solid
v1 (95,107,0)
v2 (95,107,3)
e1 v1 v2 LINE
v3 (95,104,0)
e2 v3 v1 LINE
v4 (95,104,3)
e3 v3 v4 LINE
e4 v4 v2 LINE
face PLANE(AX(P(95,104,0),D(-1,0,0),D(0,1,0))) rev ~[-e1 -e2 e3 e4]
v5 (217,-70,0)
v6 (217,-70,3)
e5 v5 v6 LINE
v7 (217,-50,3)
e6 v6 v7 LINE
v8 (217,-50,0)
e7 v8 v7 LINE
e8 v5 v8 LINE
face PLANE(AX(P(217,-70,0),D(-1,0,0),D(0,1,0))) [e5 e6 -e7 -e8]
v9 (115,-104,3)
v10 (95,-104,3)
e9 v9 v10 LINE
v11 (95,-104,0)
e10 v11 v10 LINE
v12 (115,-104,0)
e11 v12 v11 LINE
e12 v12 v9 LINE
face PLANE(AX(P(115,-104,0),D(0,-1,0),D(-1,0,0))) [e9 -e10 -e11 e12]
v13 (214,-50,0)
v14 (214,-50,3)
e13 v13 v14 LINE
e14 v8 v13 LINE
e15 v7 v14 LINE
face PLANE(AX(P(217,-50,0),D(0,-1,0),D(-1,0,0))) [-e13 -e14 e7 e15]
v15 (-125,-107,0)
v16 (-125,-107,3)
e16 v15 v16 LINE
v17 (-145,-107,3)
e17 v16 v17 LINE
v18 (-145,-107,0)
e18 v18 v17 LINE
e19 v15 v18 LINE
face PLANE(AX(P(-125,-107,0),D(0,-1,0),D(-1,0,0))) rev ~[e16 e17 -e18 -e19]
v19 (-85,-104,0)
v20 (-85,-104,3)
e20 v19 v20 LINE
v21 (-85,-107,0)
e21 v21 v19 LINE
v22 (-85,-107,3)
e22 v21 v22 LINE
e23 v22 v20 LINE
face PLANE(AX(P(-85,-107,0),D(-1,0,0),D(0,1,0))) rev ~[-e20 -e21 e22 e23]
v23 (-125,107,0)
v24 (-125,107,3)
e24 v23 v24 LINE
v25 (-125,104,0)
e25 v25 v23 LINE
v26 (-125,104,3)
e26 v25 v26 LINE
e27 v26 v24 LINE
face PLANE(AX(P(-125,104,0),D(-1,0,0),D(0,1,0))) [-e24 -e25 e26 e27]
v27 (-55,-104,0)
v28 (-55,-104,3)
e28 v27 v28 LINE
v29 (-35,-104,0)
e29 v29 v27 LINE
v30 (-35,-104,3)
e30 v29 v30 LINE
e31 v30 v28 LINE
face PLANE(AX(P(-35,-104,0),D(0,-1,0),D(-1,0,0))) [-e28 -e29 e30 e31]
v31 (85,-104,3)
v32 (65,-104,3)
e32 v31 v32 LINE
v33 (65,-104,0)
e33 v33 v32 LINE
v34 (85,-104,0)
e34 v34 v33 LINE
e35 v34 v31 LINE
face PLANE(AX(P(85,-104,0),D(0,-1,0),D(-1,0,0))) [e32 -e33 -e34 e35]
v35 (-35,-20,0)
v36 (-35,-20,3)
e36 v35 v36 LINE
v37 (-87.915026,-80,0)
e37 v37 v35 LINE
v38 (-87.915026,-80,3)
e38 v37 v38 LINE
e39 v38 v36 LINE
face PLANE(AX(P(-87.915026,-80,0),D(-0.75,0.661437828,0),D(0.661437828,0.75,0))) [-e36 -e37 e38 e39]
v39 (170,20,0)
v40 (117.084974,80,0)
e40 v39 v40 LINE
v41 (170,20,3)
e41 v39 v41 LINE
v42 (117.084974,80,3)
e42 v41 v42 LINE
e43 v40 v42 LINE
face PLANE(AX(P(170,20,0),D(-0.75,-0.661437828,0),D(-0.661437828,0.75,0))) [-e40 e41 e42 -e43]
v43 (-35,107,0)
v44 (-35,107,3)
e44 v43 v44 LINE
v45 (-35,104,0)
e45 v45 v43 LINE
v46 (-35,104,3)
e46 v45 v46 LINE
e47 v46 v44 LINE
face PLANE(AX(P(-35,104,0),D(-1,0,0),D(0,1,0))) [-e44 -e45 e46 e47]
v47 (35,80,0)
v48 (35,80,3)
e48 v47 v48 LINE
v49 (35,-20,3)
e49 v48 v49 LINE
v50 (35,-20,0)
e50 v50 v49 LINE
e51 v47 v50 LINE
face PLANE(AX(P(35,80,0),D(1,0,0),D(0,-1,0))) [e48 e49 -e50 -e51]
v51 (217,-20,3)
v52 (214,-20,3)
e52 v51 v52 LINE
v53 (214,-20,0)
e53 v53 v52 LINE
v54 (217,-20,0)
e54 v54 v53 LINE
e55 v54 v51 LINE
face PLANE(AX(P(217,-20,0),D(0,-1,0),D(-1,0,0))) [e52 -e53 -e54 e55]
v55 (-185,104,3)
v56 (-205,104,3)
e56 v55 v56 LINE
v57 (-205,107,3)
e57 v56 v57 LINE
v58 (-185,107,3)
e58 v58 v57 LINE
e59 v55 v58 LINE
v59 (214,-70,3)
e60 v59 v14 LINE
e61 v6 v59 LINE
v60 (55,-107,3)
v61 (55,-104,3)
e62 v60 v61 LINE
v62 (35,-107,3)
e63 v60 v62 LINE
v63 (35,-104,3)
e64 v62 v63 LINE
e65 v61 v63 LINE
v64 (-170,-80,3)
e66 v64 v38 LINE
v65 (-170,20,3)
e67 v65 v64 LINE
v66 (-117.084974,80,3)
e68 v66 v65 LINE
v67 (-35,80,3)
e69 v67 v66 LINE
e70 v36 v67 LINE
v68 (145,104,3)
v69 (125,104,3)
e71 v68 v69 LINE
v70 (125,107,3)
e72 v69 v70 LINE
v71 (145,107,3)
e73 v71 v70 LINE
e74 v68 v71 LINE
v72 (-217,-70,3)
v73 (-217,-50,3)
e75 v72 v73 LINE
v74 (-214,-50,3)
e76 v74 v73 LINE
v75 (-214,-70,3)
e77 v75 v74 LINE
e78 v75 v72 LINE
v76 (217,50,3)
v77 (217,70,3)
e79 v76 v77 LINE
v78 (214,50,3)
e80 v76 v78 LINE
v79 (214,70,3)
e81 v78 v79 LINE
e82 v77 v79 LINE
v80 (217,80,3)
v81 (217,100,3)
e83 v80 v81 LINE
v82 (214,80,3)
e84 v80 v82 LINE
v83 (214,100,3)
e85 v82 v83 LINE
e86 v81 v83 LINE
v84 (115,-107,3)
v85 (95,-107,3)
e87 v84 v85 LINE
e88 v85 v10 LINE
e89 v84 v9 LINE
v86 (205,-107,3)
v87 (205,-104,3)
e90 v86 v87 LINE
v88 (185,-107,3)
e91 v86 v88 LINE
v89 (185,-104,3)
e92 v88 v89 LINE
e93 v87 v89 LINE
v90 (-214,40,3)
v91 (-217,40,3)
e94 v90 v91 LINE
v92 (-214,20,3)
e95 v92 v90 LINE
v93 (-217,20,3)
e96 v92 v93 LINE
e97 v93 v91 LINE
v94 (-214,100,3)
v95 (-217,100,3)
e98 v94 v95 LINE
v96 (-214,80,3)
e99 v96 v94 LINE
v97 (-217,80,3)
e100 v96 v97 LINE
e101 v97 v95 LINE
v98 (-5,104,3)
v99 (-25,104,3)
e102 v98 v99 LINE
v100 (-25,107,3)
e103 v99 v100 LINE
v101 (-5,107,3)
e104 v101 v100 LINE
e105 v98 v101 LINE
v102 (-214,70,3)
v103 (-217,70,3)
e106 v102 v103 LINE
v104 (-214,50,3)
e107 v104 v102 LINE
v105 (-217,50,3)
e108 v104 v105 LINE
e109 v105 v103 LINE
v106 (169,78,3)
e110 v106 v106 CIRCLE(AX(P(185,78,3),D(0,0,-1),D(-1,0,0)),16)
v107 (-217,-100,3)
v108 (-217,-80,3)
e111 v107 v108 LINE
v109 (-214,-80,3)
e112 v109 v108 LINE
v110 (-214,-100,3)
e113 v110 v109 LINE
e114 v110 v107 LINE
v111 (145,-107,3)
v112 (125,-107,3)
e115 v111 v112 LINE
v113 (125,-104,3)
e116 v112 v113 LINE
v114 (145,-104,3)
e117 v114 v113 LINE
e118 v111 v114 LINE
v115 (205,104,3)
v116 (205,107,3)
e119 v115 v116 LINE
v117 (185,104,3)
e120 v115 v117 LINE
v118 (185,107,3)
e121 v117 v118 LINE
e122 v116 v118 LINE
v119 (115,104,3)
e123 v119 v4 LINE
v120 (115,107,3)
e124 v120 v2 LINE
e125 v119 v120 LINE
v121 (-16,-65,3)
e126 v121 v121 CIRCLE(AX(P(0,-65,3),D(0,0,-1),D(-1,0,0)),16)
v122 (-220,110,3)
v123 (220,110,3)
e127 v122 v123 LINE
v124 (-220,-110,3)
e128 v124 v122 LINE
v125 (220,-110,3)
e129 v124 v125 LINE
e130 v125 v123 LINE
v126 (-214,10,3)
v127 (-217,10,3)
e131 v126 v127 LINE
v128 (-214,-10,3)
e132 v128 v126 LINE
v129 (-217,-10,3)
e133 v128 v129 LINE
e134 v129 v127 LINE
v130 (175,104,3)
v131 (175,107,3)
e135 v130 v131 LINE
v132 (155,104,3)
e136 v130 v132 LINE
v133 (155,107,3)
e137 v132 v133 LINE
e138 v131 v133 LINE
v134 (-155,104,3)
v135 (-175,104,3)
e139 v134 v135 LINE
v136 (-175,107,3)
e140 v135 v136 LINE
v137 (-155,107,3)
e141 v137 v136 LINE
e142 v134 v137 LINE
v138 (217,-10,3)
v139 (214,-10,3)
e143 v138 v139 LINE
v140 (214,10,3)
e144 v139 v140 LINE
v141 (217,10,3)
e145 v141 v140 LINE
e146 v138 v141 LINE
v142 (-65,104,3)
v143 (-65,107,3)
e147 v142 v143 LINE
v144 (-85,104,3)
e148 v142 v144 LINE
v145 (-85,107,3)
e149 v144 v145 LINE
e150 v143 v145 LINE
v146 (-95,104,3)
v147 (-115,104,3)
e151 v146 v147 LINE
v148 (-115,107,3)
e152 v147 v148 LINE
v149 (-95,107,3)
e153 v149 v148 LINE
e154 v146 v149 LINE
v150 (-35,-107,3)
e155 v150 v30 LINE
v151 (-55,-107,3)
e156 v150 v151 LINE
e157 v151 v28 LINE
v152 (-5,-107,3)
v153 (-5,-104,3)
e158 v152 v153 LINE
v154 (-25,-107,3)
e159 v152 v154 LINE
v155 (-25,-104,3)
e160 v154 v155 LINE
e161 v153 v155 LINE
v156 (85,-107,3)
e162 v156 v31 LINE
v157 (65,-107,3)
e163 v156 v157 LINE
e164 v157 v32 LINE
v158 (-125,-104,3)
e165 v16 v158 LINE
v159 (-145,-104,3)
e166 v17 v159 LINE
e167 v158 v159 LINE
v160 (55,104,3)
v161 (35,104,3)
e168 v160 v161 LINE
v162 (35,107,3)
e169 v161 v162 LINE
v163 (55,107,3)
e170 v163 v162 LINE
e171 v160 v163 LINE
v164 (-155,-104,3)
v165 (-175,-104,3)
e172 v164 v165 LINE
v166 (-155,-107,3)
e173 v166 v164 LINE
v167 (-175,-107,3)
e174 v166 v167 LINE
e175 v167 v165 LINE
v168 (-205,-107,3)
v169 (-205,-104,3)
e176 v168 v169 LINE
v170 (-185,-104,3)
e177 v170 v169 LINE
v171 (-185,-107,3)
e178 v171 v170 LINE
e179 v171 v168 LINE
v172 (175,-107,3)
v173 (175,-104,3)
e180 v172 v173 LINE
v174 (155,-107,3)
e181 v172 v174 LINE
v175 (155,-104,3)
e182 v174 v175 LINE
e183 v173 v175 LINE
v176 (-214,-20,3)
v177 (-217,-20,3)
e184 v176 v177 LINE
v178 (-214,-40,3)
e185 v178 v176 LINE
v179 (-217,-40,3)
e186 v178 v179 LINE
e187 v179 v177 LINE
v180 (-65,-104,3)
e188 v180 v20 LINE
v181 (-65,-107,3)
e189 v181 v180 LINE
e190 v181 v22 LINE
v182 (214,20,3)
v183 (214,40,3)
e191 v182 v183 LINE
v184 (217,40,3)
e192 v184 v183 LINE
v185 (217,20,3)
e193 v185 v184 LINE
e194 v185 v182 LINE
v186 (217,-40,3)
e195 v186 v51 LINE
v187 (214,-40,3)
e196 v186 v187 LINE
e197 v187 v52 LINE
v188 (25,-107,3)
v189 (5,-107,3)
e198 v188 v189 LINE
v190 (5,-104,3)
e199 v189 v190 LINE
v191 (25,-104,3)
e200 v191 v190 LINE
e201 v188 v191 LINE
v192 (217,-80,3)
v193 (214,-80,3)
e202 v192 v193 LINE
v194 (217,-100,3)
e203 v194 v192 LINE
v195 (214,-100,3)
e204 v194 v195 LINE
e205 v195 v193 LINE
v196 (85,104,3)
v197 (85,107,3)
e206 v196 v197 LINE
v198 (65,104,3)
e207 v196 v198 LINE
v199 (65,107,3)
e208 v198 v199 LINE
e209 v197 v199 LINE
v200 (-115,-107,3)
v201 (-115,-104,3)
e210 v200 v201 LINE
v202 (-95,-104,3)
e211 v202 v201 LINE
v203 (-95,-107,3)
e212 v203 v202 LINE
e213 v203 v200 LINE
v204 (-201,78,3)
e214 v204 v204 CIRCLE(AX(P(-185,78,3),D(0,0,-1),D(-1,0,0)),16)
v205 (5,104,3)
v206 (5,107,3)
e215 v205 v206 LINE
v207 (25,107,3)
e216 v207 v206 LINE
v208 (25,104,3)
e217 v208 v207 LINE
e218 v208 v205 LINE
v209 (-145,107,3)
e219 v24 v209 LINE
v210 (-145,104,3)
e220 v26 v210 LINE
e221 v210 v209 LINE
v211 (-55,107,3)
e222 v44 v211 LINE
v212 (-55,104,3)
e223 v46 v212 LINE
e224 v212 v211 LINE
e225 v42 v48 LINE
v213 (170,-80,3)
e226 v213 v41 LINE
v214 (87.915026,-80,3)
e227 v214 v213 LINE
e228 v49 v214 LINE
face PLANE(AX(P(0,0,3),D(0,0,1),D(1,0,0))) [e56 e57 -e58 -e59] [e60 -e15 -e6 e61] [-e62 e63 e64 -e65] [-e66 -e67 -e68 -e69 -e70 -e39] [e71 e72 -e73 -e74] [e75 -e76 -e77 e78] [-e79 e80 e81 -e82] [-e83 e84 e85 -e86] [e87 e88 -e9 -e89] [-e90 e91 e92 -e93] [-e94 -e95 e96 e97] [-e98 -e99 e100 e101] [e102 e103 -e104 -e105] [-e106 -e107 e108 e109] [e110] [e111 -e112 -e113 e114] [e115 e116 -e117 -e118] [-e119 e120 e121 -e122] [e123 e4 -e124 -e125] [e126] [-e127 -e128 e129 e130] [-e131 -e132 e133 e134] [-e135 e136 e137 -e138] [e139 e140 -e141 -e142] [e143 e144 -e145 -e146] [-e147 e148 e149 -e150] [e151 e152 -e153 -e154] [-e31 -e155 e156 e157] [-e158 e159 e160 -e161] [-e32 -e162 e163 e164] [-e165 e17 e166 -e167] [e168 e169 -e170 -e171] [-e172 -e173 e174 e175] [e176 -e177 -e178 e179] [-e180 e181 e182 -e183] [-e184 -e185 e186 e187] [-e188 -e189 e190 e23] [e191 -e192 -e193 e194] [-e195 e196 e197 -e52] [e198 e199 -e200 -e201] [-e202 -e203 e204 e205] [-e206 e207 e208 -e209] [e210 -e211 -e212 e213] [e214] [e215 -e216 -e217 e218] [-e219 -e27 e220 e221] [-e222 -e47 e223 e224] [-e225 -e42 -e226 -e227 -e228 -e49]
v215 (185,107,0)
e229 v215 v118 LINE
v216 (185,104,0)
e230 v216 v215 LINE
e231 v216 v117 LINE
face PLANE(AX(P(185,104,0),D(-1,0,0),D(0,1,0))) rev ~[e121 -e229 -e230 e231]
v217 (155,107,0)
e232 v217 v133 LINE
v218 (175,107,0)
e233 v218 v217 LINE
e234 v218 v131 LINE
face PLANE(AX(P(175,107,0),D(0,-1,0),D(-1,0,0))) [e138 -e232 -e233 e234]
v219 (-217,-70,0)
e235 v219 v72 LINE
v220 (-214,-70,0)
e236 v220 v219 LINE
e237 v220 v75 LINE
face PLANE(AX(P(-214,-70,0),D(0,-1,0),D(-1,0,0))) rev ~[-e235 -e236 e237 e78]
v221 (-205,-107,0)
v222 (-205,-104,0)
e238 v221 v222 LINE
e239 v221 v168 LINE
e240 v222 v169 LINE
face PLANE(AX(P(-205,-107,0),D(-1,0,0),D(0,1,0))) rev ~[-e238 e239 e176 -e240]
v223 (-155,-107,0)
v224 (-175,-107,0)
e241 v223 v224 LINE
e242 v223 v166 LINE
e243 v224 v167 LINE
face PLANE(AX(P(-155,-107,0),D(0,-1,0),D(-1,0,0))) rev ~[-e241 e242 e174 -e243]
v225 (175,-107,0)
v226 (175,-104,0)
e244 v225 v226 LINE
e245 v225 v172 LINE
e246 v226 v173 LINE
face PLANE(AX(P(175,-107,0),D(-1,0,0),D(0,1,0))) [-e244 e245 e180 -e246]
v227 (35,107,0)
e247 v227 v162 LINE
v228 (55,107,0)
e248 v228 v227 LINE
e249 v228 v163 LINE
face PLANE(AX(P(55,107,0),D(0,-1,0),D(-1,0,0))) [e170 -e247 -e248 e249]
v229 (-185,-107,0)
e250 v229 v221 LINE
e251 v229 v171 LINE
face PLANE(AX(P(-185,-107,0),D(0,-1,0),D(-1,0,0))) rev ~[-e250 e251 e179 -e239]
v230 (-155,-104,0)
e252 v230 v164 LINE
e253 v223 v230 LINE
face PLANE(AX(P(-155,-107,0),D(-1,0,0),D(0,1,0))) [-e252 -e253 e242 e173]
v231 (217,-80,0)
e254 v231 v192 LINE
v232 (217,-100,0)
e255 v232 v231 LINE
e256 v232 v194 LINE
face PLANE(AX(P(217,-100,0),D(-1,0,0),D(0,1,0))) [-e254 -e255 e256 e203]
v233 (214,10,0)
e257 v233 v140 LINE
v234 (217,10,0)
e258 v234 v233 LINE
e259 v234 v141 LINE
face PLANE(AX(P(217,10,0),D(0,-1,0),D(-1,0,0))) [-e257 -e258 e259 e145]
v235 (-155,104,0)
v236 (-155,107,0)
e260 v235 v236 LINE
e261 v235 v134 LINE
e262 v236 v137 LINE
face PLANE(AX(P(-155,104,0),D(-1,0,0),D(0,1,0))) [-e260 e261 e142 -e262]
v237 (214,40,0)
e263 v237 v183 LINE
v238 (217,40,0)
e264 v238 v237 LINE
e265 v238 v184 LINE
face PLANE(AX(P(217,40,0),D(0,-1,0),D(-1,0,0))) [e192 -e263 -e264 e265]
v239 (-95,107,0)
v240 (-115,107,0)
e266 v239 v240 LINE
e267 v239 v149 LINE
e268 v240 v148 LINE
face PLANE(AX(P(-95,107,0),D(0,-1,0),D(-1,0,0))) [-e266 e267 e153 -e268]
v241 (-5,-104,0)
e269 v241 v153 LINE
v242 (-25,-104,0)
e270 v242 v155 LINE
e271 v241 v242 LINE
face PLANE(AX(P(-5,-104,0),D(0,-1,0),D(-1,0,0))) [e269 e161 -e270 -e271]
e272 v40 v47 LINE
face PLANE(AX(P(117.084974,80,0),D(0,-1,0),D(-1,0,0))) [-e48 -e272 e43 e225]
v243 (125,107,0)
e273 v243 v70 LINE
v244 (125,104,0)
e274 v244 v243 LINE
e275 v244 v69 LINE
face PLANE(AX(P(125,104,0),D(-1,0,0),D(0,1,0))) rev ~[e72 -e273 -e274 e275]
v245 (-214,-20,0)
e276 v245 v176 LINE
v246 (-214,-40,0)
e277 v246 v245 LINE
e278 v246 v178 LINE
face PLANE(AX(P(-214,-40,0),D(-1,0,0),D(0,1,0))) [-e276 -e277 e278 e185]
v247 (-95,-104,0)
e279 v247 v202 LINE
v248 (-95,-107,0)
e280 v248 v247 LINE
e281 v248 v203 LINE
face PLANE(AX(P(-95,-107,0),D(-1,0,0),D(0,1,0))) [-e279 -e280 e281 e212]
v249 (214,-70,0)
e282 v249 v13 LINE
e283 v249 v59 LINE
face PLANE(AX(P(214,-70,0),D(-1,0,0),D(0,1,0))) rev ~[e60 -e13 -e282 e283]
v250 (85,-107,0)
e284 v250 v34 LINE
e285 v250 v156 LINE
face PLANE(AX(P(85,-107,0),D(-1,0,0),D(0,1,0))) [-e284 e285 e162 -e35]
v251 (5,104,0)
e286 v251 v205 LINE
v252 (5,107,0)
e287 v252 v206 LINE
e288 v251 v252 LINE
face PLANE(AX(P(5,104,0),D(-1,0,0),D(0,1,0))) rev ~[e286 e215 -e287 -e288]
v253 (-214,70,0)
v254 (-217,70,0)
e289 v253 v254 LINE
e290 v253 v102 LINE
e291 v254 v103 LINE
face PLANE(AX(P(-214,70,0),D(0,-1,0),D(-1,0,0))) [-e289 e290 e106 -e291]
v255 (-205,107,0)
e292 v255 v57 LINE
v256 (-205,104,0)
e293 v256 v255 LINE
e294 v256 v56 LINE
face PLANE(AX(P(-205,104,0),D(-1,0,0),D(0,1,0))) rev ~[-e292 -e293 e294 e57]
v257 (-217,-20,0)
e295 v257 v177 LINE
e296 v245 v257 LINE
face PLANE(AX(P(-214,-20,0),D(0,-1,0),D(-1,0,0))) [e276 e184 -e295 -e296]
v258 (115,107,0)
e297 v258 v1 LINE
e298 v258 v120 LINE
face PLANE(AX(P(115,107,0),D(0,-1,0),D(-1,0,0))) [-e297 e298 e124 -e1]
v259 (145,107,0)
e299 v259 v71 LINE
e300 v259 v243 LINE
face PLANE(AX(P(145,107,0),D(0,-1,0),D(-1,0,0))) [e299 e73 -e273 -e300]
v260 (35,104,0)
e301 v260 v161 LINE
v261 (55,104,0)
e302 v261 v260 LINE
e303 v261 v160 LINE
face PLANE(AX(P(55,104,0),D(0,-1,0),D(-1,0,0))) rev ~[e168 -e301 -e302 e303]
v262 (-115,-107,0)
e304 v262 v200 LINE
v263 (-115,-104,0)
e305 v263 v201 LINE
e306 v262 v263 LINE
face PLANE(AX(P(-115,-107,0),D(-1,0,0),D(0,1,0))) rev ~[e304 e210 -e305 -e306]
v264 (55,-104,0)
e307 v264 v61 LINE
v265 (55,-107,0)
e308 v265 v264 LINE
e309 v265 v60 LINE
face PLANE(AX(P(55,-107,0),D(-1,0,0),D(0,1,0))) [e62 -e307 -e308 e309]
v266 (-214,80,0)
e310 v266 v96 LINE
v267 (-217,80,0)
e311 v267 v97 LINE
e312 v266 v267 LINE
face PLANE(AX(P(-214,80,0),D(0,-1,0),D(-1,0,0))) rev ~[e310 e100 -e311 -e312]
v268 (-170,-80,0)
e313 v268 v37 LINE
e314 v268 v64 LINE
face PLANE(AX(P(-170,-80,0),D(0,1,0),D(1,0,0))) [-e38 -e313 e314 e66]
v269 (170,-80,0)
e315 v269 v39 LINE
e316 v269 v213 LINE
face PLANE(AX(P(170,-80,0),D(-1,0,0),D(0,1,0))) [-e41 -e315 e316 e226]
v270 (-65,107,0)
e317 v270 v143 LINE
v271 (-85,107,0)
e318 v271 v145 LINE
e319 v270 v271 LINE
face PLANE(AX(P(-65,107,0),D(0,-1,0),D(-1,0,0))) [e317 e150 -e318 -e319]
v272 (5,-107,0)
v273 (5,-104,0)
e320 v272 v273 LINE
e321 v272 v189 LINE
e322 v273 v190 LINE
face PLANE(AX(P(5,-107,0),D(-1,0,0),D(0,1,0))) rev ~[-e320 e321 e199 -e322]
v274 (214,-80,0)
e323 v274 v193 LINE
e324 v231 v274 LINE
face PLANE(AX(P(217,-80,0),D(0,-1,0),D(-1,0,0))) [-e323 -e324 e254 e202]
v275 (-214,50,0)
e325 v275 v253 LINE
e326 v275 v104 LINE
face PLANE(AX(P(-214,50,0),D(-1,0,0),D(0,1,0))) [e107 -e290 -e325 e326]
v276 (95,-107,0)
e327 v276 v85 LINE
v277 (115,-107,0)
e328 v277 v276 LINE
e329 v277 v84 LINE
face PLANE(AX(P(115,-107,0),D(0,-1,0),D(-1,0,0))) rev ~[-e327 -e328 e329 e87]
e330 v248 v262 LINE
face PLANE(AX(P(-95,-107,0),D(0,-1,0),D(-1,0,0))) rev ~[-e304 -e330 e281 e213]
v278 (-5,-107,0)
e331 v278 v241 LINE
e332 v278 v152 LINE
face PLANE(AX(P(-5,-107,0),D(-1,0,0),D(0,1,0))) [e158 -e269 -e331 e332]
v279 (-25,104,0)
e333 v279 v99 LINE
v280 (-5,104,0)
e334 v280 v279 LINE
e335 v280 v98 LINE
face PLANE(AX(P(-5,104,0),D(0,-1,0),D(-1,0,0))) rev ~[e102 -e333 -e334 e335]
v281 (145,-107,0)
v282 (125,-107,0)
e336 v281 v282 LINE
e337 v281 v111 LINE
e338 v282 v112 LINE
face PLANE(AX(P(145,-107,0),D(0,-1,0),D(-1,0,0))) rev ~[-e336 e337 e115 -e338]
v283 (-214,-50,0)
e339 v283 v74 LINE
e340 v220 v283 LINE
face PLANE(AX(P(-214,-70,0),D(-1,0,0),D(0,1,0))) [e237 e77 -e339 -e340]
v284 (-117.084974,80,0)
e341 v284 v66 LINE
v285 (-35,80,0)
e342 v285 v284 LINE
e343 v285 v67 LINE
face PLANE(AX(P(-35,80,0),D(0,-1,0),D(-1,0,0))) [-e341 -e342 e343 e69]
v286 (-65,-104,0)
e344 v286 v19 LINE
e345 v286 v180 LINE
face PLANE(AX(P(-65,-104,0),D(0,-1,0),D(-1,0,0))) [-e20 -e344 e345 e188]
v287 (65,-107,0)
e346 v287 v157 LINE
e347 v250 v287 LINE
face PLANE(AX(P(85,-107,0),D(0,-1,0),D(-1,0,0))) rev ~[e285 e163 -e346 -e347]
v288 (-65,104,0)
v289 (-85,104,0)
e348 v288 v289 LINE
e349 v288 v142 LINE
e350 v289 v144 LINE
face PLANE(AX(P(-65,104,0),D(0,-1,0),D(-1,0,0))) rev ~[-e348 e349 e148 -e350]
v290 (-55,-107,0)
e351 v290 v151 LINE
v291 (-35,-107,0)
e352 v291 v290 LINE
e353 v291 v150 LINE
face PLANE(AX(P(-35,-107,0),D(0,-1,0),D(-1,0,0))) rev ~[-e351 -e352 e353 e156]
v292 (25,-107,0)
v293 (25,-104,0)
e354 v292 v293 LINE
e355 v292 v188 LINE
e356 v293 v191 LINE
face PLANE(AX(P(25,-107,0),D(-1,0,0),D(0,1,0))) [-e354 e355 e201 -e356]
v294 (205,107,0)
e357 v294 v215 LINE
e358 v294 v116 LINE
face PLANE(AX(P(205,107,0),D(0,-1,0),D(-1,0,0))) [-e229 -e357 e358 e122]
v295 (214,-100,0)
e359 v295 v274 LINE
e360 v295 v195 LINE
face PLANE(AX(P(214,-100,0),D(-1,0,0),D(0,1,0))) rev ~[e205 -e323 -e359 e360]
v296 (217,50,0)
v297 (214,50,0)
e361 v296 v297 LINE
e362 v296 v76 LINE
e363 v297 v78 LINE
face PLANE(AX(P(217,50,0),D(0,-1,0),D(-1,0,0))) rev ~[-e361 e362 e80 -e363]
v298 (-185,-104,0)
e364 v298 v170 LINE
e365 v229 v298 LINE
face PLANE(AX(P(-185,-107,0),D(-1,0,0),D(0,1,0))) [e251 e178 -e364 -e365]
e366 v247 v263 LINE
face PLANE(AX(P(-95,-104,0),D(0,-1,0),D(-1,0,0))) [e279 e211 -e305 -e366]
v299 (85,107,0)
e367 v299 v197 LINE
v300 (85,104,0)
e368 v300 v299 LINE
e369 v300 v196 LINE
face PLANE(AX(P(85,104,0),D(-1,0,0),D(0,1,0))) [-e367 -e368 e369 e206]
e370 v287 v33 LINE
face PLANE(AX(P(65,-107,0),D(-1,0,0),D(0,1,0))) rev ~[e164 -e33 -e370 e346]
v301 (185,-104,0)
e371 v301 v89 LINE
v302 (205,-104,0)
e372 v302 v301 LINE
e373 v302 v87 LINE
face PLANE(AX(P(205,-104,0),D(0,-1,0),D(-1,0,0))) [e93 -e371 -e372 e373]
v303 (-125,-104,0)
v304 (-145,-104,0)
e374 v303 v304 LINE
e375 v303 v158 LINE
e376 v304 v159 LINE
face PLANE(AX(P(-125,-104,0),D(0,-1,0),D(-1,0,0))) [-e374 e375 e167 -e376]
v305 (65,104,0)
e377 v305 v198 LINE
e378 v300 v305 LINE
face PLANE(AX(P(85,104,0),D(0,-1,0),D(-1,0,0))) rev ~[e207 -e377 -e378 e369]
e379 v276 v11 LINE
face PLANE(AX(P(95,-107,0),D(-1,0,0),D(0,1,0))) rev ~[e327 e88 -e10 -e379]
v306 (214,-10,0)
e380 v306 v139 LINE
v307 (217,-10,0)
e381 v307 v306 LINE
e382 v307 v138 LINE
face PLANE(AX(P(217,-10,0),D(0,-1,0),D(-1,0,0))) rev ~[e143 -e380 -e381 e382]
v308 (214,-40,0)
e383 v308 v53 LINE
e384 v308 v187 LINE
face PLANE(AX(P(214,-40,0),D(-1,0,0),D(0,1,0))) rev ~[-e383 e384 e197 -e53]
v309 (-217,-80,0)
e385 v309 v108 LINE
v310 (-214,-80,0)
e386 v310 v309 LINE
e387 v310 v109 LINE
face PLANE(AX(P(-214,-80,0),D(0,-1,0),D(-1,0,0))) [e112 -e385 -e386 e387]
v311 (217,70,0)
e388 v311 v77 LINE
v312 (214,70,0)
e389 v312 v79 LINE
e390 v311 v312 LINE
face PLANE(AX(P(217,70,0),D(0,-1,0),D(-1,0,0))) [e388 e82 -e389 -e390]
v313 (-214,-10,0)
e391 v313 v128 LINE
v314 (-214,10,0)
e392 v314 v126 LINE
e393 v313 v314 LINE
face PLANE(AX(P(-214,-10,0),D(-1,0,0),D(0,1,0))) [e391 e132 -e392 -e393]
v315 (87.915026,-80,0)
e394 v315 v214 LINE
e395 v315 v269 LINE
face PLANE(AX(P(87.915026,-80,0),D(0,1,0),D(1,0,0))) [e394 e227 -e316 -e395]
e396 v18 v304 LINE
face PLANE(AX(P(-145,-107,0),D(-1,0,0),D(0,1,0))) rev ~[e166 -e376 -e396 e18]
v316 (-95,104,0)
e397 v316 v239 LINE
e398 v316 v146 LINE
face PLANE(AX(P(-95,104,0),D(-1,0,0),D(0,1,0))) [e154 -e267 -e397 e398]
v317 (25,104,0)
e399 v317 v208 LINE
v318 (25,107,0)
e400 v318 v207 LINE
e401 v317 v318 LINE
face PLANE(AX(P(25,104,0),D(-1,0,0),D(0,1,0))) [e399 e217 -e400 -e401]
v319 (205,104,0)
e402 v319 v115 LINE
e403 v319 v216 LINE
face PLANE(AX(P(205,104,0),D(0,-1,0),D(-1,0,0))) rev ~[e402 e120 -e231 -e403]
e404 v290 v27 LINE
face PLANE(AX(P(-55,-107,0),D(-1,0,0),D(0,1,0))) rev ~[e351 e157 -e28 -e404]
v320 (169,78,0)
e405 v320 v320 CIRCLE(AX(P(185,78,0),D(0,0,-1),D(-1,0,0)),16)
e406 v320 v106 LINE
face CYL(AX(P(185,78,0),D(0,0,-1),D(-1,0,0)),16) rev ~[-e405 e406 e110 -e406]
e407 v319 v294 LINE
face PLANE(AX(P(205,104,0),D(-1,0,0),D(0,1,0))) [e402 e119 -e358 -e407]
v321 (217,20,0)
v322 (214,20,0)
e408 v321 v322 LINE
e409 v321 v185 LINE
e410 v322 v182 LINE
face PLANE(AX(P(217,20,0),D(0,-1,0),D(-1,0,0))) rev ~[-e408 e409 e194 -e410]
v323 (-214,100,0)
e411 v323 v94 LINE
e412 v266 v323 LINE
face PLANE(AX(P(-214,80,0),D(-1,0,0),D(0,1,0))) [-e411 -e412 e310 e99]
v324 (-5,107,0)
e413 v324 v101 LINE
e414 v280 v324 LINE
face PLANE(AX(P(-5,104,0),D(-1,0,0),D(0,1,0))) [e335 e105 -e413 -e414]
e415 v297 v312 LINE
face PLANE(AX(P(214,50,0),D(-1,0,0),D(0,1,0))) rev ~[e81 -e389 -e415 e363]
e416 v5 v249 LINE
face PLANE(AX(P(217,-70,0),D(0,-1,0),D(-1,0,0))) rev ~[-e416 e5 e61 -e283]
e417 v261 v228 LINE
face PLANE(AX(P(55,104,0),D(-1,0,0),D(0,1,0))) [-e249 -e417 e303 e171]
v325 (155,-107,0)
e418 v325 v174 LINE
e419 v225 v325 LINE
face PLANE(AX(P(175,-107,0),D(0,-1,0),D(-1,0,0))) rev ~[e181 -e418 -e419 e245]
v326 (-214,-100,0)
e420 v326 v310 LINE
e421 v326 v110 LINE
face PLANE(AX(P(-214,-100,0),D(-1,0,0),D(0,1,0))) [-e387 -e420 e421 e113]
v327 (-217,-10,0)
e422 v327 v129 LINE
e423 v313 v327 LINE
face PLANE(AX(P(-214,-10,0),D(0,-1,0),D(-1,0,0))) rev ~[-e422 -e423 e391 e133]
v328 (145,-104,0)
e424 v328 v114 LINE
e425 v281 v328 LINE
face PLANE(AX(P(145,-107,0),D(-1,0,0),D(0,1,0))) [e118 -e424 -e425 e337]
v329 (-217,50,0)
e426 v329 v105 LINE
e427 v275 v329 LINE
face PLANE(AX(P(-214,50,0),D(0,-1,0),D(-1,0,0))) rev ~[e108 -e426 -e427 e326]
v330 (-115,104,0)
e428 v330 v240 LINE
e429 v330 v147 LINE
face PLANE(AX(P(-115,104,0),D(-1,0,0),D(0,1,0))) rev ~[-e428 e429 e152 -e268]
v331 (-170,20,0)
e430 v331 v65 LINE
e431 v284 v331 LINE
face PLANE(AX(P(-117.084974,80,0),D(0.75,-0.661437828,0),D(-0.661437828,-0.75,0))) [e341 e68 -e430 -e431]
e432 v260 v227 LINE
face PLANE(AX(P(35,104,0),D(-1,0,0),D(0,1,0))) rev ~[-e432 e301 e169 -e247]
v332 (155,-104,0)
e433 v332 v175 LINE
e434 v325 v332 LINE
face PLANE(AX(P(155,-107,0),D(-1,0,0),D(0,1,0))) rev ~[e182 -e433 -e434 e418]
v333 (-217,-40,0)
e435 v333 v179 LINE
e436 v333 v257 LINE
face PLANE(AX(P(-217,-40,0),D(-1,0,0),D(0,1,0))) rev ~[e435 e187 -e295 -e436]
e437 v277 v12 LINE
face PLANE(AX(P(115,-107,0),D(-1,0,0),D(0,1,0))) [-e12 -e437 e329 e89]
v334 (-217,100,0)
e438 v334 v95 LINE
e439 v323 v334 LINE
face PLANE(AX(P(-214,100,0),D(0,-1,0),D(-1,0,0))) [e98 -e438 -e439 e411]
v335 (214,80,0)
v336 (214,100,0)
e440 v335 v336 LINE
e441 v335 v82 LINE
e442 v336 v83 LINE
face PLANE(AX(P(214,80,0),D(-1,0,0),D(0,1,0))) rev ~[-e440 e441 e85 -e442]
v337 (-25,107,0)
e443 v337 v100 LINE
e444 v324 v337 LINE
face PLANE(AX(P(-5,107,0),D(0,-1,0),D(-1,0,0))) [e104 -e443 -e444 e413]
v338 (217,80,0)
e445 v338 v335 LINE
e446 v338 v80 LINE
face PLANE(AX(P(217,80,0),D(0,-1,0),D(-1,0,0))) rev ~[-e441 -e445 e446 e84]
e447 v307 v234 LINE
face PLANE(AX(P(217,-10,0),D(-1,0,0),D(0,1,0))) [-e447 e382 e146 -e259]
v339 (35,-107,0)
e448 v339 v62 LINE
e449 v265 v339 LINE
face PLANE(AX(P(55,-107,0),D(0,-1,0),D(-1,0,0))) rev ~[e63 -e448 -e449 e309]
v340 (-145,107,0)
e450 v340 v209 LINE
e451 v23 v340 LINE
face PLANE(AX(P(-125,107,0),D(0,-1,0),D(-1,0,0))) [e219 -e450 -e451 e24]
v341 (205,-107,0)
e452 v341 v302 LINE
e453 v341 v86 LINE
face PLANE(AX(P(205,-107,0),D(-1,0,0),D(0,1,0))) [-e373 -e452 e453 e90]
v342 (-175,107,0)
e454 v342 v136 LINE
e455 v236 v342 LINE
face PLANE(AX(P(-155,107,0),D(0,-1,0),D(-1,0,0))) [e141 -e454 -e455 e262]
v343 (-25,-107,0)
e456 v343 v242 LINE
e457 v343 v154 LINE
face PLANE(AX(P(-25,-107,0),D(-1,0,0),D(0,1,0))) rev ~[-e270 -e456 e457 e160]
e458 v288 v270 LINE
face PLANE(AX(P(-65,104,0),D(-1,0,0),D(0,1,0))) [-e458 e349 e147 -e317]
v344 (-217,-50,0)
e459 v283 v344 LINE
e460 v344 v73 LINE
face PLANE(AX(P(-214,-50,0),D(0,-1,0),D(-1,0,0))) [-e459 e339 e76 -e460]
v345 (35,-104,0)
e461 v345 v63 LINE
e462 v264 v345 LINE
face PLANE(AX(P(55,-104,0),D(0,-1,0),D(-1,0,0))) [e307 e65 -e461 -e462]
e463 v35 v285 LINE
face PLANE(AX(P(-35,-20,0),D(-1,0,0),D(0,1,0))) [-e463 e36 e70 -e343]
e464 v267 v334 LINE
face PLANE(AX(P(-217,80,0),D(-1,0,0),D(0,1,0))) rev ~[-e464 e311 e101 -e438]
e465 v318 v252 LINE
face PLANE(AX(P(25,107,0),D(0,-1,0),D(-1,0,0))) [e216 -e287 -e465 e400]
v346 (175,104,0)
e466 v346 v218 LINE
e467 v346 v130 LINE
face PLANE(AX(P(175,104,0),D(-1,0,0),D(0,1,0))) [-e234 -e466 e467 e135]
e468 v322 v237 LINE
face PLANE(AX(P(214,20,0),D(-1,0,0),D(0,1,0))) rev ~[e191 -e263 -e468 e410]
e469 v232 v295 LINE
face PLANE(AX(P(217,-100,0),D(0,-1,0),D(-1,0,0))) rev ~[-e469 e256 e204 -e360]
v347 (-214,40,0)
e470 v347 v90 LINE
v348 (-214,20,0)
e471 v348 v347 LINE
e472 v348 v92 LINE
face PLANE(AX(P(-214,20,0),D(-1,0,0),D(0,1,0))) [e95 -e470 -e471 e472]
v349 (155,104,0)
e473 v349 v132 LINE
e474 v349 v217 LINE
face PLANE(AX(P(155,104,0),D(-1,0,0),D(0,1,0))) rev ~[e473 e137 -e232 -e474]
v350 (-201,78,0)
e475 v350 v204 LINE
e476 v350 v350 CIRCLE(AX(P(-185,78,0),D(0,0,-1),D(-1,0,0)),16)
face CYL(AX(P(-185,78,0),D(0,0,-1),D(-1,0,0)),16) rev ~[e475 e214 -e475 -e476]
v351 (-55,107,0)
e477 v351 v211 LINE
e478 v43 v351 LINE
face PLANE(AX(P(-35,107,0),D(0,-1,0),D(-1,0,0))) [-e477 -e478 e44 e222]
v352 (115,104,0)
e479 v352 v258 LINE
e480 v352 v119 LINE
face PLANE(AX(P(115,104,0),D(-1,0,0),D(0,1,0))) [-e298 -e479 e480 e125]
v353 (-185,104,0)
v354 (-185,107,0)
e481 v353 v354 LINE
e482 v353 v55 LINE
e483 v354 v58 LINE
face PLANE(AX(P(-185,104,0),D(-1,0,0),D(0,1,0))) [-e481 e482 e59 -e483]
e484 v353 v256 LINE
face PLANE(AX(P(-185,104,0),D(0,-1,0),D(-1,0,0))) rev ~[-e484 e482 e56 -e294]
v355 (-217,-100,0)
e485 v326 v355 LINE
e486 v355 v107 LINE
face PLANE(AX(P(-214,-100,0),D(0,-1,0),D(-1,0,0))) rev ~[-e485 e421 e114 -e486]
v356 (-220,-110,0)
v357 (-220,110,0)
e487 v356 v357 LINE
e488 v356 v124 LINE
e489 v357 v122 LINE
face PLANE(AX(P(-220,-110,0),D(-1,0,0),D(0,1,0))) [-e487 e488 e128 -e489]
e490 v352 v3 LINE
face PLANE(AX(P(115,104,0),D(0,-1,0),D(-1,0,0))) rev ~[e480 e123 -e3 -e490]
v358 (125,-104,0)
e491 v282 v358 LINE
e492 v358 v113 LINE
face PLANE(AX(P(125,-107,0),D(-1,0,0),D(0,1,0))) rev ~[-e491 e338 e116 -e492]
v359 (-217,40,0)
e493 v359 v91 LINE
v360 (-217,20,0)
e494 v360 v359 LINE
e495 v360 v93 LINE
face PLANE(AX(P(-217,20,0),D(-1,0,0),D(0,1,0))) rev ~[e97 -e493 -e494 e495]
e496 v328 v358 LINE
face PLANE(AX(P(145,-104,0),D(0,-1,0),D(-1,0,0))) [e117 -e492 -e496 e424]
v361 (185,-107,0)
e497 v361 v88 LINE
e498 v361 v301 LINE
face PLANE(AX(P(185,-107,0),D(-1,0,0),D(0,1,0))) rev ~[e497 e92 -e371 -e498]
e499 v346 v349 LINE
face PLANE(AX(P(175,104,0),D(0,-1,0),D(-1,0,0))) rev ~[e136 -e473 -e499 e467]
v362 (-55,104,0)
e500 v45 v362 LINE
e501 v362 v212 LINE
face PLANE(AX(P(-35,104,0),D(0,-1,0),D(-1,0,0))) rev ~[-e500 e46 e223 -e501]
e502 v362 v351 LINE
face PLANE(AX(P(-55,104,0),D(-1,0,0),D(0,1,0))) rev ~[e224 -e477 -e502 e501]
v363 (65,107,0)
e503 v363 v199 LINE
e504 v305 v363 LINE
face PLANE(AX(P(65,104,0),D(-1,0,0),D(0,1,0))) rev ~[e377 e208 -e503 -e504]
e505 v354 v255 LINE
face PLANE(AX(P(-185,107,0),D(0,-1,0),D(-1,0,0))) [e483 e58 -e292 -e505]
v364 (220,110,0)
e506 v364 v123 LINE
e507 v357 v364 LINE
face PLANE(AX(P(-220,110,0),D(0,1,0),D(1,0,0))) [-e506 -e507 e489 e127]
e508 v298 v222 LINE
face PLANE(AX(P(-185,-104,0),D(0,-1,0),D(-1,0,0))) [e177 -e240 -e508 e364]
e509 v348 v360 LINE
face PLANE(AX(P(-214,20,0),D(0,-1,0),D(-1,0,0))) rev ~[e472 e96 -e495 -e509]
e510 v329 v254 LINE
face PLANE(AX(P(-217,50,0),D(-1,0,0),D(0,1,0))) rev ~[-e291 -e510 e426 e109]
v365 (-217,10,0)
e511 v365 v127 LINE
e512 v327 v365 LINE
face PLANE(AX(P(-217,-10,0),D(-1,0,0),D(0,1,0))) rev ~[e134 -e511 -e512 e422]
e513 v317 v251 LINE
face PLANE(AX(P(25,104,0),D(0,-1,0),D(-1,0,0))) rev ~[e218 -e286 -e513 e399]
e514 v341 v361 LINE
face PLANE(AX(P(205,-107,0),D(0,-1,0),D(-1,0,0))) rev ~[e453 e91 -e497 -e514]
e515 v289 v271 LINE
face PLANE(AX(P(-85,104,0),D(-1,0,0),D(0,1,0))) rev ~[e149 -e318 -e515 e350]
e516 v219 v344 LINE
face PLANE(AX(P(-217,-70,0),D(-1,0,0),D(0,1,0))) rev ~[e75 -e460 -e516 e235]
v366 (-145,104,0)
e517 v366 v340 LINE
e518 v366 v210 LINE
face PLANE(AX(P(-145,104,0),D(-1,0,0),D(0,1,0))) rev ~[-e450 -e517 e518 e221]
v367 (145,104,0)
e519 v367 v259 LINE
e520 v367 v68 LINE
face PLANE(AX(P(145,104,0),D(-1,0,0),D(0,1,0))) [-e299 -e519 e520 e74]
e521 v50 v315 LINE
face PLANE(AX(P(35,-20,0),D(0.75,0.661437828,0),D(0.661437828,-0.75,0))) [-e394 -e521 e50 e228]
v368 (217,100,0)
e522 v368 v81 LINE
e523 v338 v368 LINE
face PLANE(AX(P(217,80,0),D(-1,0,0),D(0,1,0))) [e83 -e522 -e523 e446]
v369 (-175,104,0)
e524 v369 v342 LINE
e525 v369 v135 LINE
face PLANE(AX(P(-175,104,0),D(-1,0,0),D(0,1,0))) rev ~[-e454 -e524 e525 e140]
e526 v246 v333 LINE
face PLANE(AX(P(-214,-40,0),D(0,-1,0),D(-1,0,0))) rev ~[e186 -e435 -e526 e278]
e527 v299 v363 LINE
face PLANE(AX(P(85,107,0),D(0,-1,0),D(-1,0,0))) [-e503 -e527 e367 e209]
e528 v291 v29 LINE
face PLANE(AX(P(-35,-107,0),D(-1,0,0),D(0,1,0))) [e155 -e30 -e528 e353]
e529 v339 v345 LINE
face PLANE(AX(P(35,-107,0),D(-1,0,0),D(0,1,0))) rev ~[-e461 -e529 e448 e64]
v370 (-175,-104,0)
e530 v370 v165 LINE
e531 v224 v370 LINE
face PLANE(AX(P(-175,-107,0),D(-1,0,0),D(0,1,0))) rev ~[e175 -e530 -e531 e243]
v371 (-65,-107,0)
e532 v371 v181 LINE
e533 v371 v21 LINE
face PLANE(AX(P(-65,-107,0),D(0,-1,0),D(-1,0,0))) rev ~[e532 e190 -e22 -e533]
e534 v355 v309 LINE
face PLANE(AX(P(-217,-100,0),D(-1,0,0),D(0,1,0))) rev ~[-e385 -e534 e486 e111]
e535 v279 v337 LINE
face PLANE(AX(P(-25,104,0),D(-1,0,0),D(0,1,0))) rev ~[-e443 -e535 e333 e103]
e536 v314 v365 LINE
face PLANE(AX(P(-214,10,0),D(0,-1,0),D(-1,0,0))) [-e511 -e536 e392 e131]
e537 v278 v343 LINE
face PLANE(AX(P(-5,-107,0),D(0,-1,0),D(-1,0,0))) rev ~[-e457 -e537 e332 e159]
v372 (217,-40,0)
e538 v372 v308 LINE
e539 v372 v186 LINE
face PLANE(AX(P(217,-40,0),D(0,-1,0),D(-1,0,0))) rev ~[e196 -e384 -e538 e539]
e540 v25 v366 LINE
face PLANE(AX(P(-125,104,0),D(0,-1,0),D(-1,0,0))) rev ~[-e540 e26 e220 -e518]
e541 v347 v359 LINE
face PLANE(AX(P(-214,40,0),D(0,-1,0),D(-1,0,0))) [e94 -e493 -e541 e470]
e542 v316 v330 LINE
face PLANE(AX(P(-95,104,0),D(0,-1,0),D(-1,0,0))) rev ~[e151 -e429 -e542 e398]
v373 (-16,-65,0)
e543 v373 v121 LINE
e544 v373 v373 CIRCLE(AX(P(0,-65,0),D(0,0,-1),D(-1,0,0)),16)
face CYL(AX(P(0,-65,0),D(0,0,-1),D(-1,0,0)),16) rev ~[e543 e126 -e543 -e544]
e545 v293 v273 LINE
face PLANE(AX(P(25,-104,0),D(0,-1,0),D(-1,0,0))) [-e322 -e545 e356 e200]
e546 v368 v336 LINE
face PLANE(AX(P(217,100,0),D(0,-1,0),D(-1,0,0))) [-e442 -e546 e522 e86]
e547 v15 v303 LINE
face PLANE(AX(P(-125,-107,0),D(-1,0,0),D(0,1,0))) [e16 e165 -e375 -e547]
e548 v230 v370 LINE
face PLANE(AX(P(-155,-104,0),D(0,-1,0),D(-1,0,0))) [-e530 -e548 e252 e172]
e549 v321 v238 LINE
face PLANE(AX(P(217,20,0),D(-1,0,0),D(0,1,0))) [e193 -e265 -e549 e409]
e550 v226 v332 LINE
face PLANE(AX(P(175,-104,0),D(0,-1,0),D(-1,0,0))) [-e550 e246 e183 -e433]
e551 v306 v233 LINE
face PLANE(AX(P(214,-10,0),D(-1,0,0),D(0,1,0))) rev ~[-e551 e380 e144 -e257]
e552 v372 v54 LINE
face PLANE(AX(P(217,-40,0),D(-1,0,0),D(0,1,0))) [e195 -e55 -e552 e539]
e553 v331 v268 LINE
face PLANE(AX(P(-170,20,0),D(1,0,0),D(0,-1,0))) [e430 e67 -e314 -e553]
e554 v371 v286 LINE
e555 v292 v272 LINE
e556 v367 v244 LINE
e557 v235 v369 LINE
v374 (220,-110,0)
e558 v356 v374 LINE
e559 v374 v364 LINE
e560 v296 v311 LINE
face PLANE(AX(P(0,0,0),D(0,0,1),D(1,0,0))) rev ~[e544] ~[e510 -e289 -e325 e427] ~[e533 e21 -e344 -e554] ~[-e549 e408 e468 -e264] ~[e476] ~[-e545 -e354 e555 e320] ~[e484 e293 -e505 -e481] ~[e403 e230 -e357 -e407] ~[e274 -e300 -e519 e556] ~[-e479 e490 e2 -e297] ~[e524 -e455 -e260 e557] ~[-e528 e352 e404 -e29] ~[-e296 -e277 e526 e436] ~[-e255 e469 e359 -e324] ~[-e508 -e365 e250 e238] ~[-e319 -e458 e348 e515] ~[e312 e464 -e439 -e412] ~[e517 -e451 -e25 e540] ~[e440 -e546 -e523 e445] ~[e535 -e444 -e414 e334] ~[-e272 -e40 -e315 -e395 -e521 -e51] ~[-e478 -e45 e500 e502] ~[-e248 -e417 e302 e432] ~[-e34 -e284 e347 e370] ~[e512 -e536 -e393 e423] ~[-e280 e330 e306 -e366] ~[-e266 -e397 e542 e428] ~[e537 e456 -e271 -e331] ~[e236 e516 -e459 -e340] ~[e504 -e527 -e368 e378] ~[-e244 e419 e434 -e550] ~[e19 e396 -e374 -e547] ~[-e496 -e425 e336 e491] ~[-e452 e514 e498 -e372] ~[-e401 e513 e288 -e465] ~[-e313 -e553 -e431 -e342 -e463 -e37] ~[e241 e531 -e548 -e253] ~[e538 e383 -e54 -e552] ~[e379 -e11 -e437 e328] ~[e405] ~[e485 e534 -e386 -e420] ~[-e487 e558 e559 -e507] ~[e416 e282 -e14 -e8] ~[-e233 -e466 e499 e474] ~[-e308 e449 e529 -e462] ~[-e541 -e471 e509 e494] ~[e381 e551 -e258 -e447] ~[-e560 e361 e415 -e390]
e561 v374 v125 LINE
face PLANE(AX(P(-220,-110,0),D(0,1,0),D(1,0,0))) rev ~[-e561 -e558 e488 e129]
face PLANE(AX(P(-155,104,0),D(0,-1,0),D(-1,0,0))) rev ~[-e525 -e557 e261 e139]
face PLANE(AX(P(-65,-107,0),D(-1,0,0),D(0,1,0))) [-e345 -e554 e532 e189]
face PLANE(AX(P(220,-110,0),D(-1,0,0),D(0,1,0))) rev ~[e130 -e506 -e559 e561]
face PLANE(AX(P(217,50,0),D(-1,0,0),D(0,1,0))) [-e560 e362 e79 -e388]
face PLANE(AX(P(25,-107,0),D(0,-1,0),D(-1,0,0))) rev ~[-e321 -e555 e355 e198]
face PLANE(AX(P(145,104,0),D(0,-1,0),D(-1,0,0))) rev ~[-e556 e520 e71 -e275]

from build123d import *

# Parameters (mm, degrees)
ESQUISSE1_W                      = 440
ESQUISSE1_H                      = 220
BOSS_EXTRU_1_DEPTH               = 3
ESQUISSE2_R                      = 16
ENL_V_MAT_TUBE_DEPTH             = 3
ESQUISSE4_W                      = 20
ESQUISSE4_H                      = 3
ENL_V_MAT_C_T_ARRI_REBOITE_DEPTH = 3
ESQUISSE5_W                      = 3
ESQUISSE5_H                      = 20
ENL_V_MAT_C_T_DGBOITE_DEPTH      = 3
ENL_V_MAT_EXTRU_1_DEPTH          = 3


with BuildPart() as part:
    # Esquisse1 → Boss.-Extru.1 (new body)
    with BuildSketch(Plane.XY):
        Rectangle(ESQUISSE1_W, ESQUISSE1_H)
    extrude(amount=BOSS_EXTRU_1_DEPTH)

    # Esquisse2 → Enlèv. mat._Tube (cut)
    with BuildSketch(Plane(origin=(0, 0, 0), x_dir=(-1, 0, 0), z_dir=(0, 0, -1))):
        with Locations((-185, 78)):
            Circle(ESQUISSE2_R)
        with Locations((185, 78)):
            Circle(ESQUISSE2_R)
        with Locations((0, -65)):
            Circle(ESQUISSE2_R)
    extrude(amount=-ENL_V_MAT_TUBE_DEPTH, mode=Mode.SUBTRACT)

    # Esquisse4 → Enlèv. mat._CôtéArrièreBoite (cut)
    with BuildSketch(Plane(origin=(0, 0, 0), x_dir=(-1, 0, 0), z_dir=(0, 0, -1))):
        with Locations((-195, 105.5)):
            Rectangle(ESQUISSE4_W, ESQUISSE4_H)
        with Locations((-165, 105.5)):
            Rectangle(ESQUISSE4_W, ESQUISSE4_H)
        with Locations((-135, 105.5)):
            Rectangle(ESQUISSE4_W, ESQUISSE4_H)
        with Locations((-105, 105.5)):
            Rectangle(ESQUISSE4_W, ESQUISSE4_H)
        with Locations((-75, 105.5)):
            Rectangle(ESQUISSE4_W, ESQUISSE4_H)
        with Locations((-45, 105.5)):
            Rectangle(ESQUISSE4_W, ESQUISSE4_H)
        with Locations((-15, 105.5)):
            Rectangle(ESQUISSE4_W, ESQUISSE4_H)
        with Locations((15, 105.5)):
            Rectangle(ESQUISSE4_W, ESQUISSE4_H)
        with Locations((45, 105.5)):
            Rectangle(ESQUISSE4_W, ESQUISSE4_H)
        with Locations((75, 105.5)):
            Rectangle(ESQUISSE4_W, ESQUISSE4_H)
        with Locations((105, 105.5)):
            Rectangle(ESQUISSE4_W, ESQUISSE4_H)
        with Locations((135, 105.5)):
            Rectangle(ESQUISSE4_W, ESQUISSE4_H)
        with Locations((165, 105.5)):
            Rectangle(ESQUISSE4_W, ESQUISSE4_H)
        with Locations((195, 105.5)):
            Rectangle(ESQUISSE4_W, ESQUISSE4_H)
        with Locations((105, -105.5)):
            Rectangle(ESQUISSE4_W, ESQUISSE4_H)
        with Locations((135, -105.5)):
            Rectangle(ESQUISSE4_W, ESQUISSE4_H)
        with Locations((165, -105.5)):
            Rectangle(ESQUISSE4_W, ESQUISSE4_H)
        with Locations((195, -105.5)):
            Rectangle(ESQUISSE4_W, ESQUISSE4_H)
        with Locations((75, -105.5)):
            Rectangle(ESQUISSE4_W, ESQUISSE4_H)
        with Locations((45, -105.5)):
            Rectangle(ESQUISSE4_W, ESQUISSE4_H)
        with Locations((15, -105.5)):
            Rectangle(ESQUISSE4_W, ESQUISSE4_H)
        with Locations((-15, -105.5)):
            Rectangle(ESQUISSE4_W, ESQUISSE4_H)
        with Locations((-45, -105.5)):
            Rectangle(ESQUISSE4_W, ESQUISSE4_H)
        with Locations((-75, -105.5)):
            Rectangle(ESQUISSE4_W, ESQUISSE4_H)
        with Locations((-105, -105.5)):
            Rectangle(ESQUISSE4_W, ESQUISSE4_H)
        with Locations((-135, -105.5)):
            Rectangle(ESQUISSE4_W, ESQUISSE4_H)
        with Locations((-165, -105.5)):
            Rectangle(ESQUISSE4_W, ESQUISSE4_H)
        with Locations((-195, -105.5)):
            Rectangle(ESQUISSE4_W, ESQUISSE4_H)
    extrude(amount=-ENL_V_MAT_C_T_ARRI_REBOITE_DEPTH, mode=Mode.SUBTRACT)

    # Esquisse5 → Enlèv. mat.-CôtéDGBoite (cut)
    with BuildSketch(Plane(origin=(0, 0, 0), x_dir=(-1, 0, 0), z_dir=(0, 0, -1))):
        with Locations((-215.5, -90)):
            Rectangle(ESQUISSE5_W, ESQUISSE5_H)
        with Locations((-215.5, -60)):
            Rectangle(ESQUISSE5_W, ESQUISSE5_H)
        with Locations((-215.5, -30)):
            Rectangle(ESQUISSE5_W, ESQUISSE5_H)
        with Locations((-215.5, 0)):
            Rectangle(ESQUISSE5_W, ESQUISSE5_H)
        with Locations((-215.5, 30)):
            Rectangle(ESQUISSE5_W, ESQUISSE5_H)
        with Locations((-215.5, 60)):
            Rectangle(ESQUISSE5_W, ESQUISSE5_H)
        with Locations((-215.5, 90)):
            Rectangle(ESQUISSE5_W, ESQUISSE5_H)
        with Locations((215.5, 90)):
            Rectangle(ESQUISSE5_W, ESQUISSE5_H)
        with Locations((215.5, 60)):
            Rectangle(ESQUISSE5_W, ESQUISSE5_H)
        with Locations((215.5, 30)):
            Rectangle(ESQUISSE5_W, ESQUISSE5_H)
        with Locations((215.5, 0)):
            Rectangle(ESQUISSE5_W, ESQUISSE5_H)
        with Locations((215.5, -30)):
            Rectangle(ESQUISSE5_W, ESQUISSE5_H)
        with Locations((215.5, -60)):
            Rectangle(ESQUISSE5_W, ESQUISSE5_H)
        with Locations((215.5, -90)):
            Rectangle(ESQUISSE5_W, ESQUISSE5_H)
    extrude(amount=-ENL_V_MAT_C_T_DGBOITE_DEPTH, mode=Mode.SUBTRACT)

    # Esquisse6 → Enlèv. mat.-Extru.1 (cut)
    with BuildSketch(Plane(origin=(0, 0, 0), x_dir=(-1, 0, 0), z_dir=(0, 0, -1))):
        Polygon((-170, 20), (-117.084973779, 80), (-35, 80), (-35, -20), (-87.915026221, -80), (-170, -80), align=None)
        Polygon((170, 20), (170, -80), (87.915026221, -80), (35, -20), (35, 80), (117.084973779, 80), align=None)
    extrude(amount=-ENL_V_MAT_EXTRU_1_DEPTH, mode=Mode.SUBTRACT)


solid = part.part
